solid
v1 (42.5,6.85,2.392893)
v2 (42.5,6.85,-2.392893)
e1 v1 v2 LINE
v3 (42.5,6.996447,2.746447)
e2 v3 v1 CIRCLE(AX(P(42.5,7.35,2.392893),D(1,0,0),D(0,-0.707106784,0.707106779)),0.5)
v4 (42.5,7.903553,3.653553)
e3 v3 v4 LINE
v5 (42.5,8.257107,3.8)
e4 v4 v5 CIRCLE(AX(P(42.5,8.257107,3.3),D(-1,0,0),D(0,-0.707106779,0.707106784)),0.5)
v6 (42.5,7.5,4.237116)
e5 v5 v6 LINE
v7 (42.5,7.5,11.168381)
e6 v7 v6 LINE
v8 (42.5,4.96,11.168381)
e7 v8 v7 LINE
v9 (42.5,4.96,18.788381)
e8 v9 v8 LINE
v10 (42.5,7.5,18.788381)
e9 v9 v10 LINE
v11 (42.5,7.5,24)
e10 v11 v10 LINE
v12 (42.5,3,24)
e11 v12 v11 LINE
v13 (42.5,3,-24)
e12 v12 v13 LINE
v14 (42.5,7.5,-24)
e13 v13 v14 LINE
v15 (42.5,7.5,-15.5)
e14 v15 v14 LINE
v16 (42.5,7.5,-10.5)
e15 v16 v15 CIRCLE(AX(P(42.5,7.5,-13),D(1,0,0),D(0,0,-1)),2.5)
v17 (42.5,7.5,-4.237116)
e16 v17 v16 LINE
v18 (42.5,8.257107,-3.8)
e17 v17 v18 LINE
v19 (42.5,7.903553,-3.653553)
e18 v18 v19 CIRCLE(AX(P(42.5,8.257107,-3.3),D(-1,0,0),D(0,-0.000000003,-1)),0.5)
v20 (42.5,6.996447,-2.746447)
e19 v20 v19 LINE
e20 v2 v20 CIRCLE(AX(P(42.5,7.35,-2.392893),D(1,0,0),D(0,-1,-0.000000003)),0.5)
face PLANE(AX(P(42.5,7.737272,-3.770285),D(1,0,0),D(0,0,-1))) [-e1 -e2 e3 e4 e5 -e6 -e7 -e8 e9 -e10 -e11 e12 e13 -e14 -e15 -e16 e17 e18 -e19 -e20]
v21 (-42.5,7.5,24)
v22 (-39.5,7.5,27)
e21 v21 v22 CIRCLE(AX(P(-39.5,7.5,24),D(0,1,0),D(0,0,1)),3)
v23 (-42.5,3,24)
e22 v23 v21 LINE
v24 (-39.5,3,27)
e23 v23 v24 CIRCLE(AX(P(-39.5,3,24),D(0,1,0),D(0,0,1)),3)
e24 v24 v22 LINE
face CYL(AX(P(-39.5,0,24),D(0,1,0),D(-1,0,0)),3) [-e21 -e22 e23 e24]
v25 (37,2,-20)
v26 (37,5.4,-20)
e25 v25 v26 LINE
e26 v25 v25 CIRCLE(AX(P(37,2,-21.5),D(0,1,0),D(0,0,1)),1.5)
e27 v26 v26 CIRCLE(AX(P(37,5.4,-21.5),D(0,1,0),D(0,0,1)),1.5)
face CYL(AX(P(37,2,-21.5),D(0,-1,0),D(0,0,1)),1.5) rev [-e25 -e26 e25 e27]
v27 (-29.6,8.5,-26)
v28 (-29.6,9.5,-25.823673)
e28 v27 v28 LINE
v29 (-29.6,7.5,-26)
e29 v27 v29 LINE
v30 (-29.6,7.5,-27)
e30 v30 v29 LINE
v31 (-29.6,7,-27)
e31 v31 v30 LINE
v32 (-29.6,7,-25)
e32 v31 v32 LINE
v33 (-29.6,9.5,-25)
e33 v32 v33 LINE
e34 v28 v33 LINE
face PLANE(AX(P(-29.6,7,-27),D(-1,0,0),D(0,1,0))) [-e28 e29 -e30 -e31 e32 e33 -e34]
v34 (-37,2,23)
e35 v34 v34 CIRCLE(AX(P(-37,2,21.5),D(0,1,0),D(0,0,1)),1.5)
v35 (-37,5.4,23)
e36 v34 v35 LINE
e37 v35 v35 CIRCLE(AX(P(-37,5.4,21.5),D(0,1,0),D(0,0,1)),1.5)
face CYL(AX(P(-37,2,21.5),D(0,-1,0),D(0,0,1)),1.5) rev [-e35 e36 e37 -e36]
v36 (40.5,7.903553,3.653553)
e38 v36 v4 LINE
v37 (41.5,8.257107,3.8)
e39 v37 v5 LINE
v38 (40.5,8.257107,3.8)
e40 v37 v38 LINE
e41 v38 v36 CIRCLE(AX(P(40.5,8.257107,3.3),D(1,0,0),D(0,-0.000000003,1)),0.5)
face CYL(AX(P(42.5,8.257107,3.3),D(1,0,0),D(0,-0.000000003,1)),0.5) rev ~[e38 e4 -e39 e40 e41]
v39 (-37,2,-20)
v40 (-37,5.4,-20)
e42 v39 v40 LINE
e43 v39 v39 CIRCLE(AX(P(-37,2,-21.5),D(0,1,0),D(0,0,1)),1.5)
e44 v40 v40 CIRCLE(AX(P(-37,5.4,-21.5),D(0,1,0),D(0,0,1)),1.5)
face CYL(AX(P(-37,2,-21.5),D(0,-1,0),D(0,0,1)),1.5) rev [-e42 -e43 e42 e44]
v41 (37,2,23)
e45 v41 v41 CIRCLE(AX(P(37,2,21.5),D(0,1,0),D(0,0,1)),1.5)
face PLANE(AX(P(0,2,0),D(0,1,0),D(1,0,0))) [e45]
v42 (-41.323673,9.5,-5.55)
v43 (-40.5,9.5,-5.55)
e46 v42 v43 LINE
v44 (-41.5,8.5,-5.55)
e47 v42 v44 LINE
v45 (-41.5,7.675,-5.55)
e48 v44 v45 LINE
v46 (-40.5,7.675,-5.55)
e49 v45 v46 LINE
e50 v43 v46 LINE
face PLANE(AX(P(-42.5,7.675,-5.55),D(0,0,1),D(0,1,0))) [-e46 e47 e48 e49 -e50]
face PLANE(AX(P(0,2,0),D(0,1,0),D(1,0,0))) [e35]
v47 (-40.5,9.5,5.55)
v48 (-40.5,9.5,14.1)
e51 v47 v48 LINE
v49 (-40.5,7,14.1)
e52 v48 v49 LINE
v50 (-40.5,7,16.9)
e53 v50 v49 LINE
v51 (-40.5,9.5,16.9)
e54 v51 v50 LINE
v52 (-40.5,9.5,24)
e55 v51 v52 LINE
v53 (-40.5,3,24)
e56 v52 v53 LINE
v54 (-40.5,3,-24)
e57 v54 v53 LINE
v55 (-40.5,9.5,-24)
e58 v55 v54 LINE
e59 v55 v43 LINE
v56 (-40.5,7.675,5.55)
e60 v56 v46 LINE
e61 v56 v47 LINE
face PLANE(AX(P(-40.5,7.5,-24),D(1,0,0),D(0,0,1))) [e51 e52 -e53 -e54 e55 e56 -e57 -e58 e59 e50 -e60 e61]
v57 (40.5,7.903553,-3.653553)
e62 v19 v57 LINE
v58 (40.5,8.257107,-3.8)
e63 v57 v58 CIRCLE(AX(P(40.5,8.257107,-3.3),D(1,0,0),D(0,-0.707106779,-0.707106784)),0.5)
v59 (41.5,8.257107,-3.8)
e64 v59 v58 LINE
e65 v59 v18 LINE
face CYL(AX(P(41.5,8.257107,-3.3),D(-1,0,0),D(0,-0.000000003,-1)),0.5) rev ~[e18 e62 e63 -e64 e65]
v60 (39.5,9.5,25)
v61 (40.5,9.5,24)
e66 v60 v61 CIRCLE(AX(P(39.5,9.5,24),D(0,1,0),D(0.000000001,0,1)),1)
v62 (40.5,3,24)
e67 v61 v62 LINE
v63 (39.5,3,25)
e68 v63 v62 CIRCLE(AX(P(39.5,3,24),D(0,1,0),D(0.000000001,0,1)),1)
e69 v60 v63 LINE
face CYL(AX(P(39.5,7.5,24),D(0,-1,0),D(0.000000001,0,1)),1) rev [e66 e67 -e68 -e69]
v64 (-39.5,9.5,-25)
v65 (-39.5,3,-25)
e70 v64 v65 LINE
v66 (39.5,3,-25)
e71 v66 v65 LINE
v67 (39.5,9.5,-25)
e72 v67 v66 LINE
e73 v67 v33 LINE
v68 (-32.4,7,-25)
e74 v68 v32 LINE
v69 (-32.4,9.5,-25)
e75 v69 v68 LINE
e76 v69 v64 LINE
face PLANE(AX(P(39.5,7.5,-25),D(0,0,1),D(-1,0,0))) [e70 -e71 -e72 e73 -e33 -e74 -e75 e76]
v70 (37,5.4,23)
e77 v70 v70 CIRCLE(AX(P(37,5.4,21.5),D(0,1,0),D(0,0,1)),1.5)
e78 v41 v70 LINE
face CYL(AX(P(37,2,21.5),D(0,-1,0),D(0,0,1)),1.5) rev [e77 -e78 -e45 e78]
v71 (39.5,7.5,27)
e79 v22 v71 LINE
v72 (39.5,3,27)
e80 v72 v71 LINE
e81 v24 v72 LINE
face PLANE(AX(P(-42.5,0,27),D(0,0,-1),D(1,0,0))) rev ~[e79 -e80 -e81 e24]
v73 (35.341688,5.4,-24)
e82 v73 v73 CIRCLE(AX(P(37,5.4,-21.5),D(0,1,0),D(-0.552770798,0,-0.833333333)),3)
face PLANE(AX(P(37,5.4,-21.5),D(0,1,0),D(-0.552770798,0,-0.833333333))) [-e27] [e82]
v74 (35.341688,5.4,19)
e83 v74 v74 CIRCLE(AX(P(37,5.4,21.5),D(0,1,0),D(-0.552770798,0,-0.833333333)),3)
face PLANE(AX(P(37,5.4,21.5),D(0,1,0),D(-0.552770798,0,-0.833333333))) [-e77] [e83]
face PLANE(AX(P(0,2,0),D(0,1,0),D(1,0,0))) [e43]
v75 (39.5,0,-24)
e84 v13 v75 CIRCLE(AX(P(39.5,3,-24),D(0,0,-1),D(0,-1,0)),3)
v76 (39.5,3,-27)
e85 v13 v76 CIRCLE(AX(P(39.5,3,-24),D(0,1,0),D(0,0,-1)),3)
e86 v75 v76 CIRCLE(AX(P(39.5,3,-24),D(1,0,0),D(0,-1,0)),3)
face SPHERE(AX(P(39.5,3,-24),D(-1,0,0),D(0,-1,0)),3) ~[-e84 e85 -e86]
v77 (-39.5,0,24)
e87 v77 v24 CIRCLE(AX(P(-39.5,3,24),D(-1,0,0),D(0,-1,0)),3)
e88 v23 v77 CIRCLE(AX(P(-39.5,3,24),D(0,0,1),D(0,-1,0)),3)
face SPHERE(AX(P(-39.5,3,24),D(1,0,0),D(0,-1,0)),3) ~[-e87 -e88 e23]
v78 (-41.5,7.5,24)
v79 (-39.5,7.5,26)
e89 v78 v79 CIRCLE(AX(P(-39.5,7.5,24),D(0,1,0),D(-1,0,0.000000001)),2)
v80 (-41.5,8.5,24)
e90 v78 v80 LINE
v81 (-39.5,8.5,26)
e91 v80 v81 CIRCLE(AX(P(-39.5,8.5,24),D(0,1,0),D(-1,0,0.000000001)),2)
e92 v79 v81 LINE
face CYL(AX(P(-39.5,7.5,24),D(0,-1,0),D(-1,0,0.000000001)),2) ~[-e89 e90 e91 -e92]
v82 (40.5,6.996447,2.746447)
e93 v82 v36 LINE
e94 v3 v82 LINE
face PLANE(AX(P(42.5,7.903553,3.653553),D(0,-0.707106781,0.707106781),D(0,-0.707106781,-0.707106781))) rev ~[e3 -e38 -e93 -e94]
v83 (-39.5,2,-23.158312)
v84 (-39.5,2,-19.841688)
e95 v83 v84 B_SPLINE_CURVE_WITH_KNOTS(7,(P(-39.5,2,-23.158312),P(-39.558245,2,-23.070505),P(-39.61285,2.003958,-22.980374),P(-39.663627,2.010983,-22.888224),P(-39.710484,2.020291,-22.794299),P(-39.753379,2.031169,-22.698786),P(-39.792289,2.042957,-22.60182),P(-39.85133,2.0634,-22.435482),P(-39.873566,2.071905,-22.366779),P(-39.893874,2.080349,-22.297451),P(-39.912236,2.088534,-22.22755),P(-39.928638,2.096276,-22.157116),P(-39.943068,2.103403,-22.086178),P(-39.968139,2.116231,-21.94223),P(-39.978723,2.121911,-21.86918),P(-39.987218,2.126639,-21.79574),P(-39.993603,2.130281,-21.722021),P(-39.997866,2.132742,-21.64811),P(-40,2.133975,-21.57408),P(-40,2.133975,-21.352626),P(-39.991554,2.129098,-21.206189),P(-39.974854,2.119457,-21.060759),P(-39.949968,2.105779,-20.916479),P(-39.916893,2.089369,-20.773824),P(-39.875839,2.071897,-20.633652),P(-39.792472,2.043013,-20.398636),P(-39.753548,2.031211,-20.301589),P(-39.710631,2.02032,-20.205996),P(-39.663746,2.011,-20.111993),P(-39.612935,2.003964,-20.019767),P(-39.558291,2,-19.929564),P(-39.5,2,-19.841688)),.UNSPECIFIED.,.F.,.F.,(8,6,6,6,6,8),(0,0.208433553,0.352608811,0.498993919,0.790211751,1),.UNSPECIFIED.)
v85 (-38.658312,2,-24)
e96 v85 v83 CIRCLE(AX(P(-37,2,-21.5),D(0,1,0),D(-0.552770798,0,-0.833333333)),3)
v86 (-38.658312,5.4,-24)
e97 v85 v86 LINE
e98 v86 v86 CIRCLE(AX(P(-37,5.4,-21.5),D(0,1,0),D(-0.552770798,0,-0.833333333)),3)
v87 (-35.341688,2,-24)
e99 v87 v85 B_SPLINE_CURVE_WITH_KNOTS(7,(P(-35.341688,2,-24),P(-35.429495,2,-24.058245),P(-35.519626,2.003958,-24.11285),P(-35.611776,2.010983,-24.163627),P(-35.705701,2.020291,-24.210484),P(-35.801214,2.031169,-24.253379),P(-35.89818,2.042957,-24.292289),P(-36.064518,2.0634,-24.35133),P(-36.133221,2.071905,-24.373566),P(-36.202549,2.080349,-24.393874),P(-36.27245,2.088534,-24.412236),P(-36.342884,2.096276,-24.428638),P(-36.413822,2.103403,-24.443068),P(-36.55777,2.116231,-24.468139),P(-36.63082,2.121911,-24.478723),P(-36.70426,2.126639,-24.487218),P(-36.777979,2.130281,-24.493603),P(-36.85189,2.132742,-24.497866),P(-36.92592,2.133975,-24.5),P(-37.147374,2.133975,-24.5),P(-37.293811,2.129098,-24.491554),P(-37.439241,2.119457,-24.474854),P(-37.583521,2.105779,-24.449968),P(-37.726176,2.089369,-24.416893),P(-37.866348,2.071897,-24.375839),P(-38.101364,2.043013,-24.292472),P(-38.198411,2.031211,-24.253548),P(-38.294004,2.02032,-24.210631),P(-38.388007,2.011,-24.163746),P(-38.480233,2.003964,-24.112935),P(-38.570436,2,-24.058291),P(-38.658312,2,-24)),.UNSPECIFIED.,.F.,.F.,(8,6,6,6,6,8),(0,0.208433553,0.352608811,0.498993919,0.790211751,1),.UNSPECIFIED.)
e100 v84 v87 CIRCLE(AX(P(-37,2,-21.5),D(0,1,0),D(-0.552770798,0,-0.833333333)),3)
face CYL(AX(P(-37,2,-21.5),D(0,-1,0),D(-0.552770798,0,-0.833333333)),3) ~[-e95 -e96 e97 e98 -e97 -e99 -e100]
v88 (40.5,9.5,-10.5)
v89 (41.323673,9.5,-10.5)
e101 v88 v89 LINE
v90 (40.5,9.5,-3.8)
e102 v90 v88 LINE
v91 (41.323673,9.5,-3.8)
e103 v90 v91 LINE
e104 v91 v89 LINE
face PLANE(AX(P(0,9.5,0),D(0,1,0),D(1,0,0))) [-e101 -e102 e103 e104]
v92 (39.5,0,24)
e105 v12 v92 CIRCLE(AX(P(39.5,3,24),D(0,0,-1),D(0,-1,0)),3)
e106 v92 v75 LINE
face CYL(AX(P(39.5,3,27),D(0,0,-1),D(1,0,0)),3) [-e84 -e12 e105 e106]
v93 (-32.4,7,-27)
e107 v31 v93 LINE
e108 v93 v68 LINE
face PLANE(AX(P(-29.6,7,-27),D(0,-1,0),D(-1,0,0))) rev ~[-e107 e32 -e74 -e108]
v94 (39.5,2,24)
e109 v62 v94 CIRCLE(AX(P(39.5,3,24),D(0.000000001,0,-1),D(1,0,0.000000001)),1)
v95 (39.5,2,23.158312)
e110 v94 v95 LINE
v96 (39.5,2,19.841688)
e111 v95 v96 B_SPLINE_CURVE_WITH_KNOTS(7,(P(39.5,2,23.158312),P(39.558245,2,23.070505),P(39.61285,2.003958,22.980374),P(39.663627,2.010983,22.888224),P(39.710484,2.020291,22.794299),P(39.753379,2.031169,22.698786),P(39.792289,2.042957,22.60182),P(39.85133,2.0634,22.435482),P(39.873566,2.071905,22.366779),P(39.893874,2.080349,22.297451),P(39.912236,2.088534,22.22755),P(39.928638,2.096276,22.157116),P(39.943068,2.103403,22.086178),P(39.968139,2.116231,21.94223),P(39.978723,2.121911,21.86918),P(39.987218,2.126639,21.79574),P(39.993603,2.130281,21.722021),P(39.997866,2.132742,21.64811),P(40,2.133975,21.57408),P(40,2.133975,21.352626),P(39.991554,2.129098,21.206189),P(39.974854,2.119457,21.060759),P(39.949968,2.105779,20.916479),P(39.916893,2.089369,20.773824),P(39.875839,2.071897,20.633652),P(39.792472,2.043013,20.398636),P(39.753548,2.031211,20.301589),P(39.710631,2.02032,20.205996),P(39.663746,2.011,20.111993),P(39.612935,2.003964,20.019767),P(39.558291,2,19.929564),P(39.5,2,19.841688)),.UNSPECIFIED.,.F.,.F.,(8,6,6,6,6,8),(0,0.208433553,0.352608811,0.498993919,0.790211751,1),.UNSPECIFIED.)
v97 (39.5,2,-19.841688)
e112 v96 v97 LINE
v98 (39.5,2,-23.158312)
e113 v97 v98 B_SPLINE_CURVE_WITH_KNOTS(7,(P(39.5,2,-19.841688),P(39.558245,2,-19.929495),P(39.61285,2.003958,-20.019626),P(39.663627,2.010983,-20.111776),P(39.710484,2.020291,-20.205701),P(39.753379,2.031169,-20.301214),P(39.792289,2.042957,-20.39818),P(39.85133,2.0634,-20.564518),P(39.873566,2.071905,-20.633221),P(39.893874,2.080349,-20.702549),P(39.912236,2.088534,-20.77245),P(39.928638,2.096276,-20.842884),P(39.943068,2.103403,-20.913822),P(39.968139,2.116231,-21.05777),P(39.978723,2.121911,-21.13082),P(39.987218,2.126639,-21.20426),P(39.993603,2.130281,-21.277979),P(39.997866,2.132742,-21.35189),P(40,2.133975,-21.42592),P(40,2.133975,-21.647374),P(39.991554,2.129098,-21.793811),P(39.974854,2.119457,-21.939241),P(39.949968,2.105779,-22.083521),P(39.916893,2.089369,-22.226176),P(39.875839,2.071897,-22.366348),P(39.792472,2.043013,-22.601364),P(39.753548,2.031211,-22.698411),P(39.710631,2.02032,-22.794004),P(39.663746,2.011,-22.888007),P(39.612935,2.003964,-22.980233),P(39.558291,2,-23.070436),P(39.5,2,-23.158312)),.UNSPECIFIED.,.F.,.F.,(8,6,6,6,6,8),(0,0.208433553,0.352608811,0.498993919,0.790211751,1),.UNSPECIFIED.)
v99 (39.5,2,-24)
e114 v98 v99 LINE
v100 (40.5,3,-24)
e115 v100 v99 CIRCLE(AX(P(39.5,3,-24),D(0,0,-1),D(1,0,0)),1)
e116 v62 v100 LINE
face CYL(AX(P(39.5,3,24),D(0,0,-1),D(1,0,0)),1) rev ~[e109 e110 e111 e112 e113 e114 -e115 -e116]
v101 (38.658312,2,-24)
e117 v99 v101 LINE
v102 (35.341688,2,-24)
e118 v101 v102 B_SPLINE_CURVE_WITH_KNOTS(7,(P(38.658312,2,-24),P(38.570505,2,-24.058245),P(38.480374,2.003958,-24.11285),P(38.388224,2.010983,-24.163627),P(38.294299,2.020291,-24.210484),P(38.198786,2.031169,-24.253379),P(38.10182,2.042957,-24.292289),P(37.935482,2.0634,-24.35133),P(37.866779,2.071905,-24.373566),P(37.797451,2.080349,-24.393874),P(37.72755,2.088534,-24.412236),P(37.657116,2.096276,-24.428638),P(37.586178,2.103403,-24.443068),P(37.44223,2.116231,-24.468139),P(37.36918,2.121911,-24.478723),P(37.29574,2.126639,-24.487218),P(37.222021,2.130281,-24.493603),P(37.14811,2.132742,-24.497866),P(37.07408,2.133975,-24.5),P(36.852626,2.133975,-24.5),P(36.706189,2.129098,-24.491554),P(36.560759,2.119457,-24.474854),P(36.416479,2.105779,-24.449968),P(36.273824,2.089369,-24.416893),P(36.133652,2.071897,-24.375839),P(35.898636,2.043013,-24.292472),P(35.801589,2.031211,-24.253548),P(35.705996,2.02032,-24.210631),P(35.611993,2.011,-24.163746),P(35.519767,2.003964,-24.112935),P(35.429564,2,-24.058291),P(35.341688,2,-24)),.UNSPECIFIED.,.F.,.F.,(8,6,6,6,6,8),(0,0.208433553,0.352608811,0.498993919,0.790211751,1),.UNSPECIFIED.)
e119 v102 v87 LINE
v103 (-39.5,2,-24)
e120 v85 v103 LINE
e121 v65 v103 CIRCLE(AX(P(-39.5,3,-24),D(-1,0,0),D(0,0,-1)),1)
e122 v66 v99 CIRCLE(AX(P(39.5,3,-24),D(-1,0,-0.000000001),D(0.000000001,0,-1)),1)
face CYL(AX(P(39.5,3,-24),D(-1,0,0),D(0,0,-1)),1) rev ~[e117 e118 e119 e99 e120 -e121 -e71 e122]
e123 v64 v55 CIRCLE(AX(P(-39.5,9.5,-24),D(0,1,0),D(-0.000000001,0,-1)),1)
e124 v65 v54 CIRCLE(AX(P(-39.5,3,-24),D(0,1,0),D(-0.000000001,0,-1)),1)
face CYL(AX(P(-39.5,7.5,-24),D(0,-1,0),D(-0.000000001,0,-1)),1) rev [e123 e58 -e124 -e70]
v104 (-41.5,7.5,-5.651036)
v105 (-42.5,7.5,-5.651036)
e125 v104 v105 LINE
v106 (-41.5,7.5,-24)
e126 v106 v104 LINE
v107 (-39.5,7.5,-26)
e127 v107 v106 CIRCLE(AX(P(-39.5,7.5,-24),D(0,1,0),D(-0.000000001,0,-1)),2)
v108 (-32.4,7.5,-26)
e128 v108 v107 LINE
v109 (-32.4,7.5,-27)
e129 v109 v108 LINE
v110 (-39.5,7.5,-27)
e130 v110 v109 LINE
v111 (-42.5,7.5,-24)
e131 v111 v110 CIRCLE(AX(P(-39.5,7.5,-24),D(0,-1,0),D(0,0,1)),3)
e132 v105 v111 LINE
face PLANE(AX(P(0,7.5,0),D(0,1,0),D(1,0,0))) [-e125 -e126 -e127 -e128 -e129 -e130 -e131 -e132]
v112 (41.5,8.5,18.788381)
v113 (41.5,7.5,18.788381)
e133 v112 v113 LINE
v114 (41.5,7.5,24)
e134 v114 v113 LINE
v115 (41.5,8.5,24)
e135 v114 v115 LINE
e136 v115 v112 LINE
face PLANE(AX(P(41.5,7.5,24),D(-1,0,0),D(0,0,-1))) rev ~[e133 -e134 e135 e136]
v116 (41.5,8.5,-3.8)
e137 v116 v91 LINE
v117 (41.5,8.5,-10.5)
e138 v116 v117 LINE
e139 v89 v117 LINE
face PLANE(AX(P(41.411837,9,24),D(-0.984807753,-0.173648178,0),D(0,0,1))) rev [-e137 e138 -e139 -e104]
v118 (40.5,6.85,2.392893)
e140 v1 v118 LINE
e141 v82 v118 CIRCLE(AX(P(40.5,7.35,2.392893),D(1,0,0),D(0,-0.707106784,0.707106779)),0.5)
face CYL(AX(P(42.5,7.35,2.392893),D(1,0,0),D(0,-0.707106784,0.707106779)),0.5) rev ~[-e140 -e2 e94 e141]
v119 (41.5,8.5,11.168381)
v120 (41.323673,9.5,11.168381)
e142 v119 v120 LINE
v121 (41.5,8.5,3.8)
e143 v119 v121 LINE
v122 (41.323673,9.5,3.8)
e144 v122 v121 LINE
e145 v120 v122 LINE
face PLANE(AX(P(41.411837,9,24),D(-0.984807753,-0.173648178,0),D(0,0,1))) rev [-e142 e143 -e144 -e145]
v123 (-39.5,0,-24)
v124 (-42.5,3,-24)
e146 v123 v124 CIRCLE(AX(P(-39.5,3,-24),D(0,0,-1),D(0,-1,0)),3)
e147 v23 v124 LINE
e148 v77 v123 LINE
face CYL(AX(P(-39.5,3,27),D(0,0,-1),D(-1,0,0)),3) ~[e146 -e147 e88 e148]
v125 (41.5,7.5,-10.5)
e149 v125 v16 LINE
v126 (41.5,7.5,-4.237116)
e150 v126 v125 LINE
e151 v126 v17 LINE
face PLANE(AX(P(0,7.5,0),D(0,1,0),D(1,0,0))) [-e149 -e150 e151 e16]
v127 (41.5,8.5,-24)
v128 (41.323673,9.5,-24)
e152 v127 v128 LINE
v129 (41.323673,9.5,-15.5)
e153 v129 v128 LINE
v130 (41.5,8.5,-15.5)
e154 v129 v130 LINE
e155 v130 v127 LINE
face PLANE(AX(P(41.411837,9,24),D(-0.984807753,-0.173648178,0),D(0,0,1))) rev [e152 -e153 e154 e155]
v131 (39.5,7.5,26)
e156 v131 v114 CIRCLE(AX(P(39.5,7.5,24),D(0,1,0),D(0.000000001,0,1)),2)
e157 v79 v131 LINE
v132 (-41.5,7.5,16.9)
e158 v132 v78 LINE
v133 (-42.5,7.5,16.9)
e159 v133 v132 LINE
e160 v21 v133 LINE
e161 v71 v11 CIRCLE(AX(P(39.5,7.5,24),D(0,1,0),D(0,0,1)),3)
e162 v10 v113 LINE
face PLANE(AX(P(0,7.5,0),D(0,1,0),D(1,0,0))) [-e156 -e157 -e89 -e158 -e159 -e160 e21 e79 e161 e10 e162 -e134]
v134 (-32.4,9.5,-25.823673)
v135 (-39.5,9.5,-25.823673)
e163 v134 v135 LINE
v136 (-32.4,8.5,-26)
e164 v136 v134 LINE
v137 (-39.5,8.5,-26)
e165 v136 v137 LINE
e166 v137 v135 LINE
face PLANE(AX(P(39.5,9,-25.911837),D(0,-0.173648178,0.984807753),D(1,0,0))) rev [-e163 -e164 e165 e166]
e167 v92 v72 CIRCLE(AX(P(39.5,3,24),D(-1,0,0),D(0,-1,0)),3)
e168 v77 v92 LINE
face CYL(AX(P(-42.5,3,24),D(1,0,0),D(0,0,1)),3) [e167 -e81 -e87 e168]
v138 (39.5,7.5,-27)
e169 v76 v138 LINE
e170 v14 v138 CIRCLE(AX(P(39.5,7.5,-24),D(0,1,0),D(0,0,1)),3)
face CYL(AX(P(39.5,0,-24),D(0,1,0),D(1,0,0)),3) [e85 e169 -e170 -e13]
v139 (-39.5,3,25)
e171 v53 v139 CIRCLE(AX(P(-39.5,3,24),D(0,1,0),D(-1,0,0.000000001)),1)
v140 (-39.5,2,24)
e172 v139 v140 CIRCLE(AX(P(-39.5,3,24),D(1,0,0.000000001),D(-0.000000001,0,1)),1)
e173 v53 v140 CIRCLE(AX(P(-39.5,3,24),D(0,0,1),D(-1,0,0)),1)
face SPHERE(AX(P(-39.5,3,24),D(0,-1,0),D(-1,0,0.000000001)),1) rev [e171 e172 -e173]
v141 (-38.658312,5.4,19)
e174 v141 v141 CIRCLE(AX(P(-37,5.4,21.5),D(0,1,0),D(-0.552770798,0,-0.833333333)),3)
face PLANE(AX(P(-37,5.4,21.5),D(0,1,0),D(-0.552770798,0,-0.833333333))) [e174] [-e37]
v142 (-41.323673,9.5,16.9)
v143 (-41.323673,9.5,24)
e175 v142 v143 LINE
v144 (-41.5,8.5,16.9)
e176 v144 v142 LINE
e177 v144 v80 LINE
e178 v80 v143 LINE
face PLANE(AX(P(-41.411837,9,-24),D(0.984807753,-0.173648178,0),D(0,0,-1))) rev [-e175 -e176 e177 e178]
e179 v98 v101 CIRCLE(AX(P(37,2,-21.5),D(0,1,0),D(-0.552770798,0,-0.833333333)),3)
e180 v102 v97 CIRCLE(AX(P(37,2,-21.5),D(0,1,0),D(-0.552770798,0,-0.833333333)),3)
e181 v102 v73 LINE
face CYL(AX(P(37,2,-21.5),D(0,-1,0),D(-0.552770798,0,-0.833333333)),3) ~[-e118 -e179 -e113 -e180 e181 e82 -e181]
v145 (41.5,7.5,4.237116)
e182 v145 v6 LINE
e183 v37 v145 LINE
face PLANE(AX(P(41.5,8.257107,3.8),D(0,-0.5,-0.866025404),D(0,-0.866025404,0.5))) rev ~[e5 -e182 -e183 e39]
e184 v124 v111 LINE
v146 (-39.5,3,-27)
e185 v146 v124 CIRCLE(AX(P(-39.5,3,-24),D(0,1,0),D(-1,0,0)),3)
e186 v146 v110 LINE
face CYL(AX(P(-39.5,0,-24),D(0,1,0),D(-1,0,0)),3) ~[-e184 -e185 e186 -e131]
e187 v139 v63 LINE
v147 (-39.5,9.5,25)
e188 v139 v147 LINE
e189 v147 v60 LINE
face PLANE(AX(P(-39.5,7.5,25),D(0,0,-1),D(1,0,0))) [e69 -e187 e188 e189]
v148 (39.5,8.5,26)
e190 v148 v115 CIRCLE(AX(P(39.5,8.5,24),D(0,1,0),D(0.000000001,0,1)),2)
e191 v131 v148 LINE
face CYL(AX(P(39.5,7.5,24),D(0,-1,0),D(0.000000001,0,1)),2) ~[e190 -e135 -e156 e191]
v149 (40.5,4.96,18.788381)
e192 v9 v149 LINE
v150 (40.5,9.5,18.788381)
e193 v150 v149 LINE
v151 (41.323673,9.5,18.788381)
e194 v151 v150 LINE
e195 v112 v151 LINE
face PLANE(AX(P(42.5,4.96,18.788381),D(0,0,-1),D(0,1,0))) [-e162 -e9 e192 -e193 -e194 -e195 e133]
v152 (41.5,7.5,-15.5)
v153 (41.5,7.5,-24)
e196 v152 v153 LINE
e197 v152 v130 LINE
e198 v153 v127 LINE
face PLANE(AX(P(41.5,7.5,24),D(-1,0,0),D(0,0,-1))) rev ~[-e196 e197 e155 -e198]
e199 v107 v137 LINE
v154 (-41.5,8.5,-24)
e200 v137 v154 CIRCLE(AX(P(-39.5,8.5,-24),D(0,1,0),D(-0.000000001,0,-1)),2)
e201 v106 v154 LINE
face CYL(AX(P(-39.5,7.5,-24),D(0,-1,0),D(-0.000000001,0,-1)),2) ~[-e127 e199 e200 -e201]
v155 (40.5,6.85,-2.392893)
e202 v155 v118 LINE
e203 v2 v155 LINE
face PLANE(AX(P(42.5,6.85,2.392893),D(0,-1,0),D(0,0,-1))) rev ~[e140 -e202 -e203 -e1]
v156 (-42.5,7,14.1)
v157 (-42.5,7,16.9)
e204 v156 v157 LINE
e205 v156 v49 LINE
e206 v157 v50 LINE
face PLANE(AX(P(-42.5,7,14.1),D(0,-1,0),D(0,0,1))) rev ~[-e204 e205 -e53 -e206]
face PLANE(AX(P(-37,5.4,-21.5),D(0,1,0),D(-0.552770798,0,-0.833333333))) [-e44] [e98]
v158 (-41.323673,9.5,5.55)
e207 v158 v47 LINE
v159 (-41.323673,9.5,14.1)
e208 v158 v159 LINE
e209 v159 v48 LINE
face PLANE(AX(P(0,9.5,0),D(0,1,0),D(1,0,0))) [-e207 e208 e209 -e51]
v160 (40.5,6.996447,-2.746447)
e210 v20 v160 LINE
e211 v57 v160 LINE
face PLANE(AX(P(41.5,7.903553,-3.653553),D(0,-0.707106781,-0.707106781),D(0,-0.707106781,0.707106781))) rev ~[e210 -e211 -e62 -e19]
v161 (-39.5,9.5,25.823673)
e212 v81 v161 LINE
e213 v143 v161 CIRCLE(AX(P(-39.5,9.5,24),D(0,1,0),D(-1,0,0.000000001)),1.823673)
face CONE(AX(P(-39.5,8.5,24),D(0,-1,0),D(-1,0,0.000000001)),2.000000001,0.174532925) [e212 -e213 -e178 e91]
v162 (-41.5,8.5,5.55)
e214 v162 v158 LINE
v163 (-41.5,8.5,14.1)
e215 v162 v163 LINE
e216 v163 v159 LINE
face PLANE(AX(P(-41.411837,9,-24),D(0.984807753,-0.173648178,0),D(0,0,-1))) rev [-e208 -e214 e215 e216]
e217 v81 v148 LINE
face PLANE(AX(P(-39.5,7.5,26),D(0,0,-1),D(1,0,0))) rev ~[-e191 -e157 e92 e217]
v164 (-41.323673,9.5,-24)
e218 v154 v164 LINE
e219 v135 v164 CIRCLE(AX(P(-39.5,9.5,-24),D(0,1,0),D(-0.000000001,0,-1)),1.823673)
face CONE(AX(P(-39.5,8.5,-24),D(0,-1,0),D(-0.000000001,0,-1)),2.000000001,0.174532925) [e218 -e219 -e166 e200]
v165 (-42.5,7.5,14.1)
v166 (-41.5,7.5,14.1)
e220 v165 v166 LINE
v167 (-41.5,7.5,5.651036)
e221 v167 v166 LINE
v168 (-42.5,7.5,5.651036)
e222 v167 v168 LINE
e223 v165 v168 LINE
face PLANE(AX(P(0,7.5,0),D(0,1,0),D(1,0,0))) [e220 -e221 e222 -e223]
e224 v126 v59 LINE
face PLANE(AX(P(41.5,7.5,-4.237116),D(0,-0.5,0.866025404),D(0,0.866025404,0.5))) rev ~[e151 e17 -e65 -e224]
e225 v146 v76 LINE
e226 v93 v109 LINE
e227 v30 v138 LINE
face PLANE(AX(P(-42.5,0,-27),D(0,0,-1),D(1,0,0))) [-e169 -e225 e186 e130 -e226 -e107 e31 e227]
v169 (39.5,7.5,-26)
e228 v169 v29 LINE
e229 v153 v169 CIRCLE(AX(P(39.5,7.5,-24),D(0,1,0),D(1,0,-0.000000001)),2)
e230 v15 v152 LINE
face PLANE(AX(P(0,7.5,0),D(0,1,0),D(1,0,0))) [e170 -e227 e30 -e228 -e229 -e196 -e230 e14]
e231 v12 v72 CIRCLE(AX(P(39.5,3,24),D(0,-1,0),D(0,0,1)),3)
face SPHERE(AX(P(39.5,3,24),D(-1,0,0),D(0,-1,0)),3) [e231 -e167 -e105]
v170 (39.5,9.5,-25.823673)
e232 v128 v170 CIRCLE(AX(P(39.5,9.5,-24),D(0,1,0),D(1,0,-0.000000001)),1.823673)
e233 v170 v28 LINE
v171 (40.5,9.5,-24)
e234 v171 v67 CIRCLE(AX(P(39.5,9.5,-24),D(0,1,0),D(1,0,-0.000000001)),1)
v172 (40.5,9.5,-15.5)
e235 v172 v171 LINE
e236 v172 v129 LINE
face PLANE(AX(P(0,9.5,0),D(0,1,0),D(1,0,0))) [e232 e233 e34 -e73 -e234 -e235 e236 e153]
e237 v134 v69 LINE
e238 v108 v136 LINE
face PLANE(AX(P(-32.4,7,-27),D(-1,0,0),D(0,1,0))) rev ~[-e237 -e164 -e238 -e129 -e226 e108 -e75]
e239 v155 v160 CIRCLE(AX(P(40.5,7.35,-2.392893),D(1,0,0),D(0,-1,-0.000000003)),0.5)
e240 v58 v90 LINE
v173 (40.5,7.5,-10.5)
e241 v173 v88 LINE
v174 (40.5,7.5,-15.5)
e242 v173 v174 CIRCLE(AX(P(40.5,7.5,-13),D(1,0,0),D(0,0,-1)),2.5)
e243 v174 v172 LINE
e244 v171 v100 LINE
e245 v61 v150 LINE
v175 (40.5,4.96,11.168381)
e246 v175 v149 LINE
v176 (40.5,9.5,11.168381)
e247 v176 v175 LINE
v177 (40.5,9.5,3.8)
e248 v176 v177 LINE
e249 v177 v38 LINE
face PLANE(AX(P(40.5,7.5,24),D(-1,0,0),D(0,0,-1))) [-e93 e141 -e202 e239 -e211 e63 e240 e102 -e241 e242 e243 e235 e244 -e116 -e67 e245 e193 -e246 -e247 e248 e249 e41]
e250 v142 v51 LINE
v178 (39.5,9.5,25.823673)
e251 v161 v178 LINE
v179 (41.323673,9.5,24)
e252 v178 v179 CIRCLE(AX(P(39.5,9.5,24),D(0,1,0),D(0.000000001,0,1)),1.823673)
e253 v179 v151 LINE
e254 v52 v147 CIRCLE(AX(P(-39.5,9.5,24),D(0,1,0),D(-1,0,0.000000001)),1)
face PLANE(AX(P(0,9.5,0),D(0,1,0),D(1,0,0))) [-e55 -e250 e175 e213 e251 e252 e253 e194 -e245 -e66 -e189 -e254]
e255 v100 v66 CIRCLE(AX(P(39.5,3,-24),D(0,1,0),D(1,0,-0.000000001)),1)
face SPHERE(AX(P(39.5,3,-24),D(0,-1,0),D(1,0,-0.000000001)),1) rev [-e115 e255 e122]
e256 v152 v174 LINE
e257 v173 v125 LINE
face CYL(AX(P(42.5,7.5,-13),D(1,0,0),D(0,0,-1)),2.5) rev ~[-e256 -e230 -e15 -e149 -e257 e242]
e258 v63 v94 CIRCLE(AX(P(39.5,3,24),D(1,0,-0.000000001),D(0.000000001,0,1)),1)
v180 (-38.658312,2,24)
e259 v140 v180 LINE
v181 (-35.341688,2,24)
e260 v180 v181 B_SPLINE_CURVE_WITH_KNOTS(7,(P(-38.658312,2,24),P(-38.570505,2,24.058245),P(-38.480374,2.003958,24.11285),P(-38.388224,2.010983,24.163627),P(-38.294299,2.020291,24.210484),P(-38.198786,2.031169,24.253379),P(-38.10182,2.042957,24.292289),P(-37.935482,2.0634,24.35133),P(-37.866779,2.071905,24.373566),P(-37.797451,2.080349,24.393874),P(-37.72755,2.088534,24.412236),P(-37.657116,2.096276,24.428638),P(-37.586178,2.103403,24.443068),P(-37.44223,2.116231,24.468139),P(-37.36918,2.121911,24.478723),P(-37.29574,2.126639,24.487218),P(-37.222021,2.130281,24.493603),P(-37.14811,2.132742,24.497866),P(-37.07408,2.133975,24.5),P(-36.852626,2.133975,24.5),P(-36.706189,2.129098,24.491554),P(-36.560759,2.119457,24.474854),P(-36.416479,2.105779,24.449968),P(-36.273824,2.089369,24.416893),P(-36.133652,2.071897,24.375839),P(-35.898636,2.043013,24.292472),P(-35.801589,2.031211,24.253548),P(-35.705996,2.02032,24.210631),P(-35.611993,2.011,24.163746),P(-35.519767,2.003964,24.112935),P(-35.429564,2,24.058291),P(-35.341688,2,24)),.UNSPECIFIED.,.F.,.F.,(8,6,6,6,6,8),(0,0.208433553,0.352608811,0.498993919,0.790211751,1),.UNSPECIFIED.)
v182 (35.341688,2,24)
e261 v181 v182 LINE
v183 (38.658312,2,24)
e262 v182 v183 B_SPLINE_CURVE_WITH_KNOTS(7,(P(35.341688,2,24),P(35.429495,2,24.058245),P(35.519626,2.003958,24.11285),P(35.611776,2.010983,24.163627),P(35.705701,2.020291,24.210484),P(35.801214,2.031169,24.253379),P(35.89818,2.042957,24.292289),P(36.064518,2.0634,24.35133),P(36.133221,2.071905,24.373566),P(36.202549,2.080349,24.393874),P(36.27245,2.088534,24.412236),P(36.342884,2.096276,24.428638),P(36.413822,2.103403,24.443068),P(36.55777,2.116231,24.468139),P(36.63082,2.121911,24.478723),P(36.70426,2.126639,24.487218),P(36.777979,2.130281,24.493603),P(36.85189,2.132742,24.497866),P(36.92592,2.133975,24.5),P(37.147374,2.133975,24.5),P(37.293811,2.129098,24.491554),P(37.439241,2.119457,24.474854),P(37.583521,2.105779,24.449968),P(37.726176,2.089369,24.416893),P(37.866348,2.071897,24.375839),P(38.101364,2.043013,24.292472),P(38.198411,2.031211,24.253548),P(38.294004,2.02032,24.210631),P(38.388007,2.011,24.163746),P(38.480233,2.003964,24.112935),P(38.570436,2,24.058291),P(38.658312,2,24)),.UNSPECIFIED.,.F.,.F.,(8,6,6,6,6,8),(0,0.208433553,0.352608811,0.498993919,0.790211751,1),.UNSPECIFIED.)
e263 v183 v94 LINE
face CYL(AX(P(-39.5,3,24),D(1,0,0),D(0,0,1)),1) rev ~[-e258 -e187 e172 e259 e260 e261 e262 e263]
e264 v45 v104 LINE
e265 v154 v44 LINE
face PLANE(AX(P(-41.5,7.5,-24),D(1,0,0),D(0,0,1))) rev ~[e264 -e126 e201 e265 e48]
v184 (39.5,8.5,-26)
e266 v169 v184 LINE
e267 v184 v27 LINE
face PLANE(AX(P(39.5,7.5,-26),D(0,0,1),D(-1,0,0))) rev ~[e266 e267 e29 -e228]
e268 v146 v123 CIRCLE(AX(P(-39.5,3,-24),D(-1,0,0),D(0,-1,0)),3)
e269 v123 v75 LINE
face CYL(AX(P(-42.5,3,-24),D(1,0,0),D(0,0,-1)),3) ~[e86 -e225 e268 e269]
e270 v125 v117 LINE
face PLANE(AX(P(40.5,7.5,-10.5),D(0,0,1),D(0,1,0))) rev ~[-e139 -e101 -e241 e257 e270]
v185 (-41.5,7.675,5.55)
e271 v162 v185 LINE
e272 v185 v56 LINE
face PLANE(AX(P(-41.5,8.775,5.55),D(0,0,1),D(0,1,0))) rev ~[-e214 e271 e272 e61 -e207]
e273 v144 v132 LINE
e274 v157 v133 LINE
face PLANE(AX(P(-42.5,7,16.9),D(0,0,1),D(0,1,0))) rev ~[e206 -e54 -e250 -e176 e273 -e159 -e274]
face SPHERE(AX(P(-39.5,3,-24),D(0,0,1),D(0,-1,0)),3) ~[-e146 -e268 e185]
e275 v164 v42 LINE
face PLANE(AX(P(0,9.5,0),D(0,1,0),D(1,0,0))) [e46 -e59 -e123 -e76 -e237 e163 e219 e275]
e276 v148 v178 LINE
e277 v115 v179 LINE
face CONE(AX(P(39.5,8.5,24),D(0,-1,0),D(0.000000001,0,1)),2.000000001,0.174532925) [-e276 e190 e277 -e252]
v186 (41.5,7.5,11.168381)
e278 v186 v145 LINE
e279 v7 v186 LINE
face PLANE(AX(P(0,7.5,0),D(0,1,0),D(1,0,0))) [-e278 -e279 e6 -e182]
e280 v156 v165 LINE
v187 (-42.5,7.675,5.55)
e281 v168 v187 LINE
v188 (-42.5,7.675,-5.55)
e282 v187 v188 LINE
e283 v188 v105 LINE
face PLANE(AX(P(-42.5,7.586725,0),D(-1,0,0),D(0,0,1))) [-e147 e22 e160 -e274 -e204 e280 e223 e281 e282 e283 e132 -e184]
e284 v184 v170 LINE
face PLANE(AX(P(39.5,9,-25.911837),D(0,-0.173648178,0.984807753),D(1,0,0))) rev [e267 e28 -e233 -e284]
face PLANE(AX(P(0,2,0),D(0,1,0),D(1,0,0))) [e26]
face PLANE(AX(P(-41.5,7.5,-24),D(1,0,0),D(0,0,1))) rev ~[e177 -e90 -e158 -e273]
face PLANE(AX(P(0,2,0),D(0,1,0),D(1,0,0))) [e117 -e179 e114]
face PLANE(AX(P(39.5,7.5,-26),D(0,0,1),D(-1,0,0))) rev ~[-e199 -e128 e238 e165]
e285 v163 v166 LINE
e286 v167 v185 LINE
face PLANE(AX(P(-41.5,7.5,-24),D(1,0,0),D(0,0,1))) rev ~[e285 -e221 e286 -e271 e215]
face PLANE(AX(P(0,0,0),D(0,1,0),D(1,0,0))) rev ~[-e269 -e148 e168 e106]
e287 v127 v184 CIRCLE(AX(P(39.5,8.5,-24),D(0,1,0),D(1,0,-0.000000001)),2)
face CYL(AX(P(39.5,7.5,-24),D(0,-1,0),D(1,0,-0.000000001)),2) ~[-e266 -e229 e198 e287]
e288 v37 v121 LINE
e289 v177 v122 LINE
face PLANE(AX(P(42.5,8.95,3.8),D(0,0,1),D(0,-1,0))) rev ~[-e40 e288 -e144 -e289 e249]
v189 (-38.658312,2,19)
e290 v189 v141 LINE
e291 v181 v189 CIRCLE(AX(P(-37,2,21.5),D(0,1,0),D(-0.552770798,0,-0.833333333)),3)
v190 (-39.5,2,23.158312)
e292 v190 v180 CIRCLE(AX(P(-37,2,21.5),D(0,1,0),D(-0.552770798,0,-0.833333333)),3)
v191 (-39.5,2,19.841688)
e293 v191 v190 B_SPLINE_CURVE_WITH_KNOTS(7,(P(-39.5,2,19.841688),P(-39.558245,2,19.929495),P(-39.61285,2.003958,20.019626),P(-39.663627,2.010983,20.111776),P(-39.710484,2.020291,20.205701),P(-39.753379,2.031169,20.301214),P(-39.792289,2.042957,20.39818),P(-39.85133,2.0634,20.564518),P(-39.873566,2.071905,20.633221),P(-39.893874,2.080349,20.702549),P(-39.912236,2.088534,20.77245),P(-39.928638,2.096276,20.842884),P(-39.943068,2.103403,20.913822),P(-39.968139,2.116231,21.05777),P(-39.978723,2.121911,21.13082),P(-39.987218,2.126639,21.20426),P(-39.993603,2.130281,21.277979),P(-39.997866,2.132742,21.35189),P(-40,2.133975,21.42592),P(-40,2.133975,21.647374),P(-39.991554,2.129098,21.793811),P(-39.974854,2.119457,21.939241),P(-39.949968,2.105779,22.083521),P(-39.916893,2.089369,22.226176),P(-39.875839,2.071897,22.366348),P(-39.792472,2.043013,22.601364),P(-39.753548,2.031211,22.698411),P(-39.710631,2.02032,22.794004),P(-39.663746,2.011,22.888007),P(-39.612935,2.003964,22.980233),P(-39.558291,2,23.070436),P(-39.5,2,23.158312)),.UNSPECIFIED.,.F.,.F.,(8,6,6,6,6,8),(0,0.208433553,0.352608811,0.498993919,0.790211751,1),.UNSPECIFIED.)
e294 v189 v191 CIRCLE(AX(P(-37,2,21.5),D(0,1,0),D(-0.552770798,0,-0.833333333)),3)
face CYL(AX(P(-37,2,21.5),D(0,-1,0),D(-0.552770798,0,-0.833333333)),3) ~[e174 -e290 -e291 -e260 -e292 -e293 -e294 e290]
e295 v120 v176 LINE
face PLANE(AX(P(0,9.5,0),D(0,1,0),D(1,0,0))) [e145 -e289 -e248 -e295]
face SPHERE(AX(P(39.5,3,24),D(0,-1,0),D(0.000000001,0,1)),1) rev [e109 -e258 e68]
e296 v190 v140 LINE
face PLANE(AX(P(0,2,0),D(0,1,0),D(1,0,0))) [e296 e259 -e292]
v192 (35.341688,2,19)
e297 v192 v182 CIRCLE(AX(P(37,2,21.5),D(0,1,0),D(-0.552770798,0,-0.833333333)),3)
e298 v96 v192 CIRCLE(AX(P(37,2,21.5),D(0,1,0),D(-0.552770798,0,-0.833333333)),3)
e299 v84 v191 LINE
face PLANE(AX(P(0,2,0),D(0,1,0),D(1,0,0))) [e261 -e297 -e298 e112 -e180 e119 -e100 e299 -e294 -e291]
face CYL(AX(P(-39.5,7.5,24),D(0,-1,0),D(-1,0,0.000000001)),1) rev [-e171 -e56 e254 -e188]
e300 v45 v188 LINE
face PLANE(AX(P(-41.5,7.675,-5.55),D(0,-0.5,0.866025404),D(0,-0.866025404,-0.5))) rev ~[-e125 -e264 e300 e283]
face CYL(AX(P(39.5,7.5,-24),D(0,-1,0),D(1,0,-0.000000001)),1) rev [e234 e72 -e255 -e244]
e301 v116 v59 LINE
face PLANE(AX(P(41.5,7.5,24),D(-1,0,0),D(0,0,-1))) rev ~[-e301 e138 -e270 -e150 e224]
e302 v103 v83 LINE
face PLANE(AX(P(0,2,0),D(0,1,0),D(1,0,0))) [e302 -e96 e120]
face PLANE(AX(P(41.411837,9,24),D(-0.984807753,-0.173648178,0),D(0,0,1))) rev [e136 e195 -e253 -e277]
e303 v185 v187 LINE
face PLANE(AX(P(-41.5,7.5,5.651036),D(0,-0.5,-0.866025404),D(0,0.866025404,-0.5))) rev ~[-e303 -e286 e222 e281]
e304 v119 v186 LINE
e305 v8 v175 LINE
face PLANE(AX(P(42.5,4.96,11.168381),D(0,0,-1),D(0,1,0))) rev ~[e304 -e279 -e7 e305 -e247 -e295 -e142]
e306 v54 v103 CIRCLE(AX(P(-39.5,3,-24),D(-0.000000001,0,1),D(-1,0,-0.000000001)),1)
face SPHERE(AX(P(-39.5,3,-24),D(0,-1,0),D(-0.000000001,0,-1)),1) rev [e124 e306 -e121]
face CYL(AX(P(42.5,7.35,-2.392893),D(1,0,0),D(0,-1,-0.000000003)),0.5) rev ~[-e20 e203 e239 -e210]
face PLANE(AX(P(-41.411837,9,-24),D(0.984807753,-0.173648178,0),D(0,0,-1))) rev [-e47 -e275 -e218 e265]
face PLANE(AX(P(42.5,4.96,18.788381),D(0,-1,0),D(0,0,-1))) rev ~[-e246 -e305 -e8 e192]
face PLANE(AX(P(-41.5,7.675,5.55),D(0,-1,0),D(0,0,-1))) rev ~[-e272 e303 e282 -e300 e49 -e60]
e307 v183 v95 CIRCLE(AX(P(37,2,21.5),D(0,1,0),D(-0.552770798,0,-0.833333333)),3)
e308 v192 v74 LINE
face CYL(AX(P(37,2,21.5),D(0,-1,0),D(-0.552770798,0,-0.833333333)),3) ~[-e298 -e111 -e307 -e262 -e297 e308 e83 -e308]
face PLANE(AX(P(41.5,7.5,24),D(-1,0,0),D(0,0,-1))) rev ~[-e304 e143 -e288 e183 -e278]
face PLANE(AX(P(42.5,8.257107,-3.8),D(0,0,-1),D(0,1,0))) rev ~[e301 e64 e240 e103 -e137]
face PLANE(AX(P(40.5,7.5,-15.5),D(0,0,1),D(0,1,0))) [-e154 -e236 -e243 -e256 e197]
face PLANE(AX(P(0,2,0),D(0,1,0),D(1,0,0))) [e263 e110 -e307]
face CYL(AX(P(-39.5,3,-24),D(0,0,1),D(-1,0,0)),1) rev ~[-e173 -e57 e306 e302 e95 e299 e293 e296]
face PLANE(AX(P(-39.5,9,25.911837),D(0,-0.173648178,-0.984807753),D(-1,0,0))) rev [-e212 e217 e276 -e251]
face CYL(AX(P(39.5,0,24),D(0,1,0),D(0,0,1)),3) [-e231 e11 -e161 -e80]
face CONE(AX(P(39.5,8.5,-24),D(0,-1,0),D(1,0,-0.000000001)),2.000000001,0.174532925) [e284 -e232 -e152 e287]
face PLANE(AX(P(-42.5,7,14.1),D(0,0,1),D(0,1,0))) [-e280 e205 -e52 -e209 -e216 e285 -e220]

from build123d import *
from OCP.BRepFilletAPI import BRepFilletAPI_MakeChamfer

# Parameters (mm, degrees)
SKETCH_1_W                  = 85
SKETCH_1_H                  = 54
EXTRUDE_576_DEPTH           = 7.5
FILLET_627_R                = 3
CUT_EXTRUDE_1389_DEPTH      = 5.5
FILLET_1467_R               = 1
EXTRUDE_2395_DEPTH          = 2
CHAMFER_2448_SIZE           = 1
CHAMFER_2448_SIZE2          = 0.176326981
SKETCH_16_R                 = 2.5
CUT_EXTRUDE_2683_DEPTH      = 5
SKETCH_19_W                 = 7.62
SKETCH_19_H                 = 5.08
CUT_EXTRUDE_3124_DEPTH      = 10
SKETCH_21_W                 = 11.1
SKETCH_21_H                 = 1.1
CUT_EXTRUDE_2_DEPTH         = 10
SKETCH_22_W                 = 2.8
SKETCH_22_H                 = 1.2
CUT_EXTRUDE_3_DEPTH         = 10
CUT_EXTRUDE_5_DEPTH         = 10
SKETCH_30_W                 = 11.1
SKETCH_30_H                 = 0.725
SKETCH_30_W_2               = 2.8
SKETCH_30_H_2               = 1.3
CUT_EXTRUDE_6_DEPTH         = 1
EXTRUDE_2_DEPTH             = 1
EXTRUDE_3_DEPTH             = 1
CUT_EXTRUDE_START           = -1
SKETCH_31_W                 = 7.6
SKETCH_31_H                 = 0.55
SKETCH_31_W_2               = 5
SKETCH_31_H_2               = 2
CUT_EXTRUDE_7_DEPTH         = 1
SKETCH_32_W                 = 2.8
SKETCH_32_H                 = 1.2
CUT_EXTRUDE_8_DEPTH         = 10
SKETCH_33_W                 = 2.8
SKETCH_33_H                 = 1.3
CUT_EXTRUDE_9_DEPTH         = 2
SKETCH_34_R                 = 3
SKETCH_34_R_2               = 1.5
EXTRUDE_4_DEPTH             = 3.4
PATTERN_LINEAR_1_COUNT      = 2
PATTERN_LINEAR_1_PITCH      = 74
PATTERN_LINEAR_1_COUNT_DIR2 = 2
PATTERN_LINEAR_1_PITCH_DIR2 = 43


with BuildPart() as part:
    # 草图1 → Extrude 576 (new body)
    with BuildSketch(Plane(origin=(0, 0, 0), x_dir=(1, 0, 0), z_dir=(0, 1, 0))):
        Rectangle(SKETCH_1_W, SKETCH_1_H)
    extrude(amount=EXTRUDE_576_DEPTH)

    # Fillet 627
    fillet_627_edges = [part.edges().sort_by_distance(p)[0] for p in [
        (0, 0, 27),
        (-42.5, 0, 0),
        (0, 0, -27),
        (42.5, 0, 0),
        (42.5, 3.75, 27),
        (-42.5, 3.75, 27),
        (-42.5, 3.75, -27),
        (42.5, 3.75, -27),
    ]]
    fillet(fillet_627_edges, radius=FILLET_627_R)

    # 草图14 → Cut-Extrude 1389 (cut)
    with BuildSketch(Plane(origin=(0, 7.5, 0), x_dir=(1, 0, 0), z_dir=(0, 1, 0))):
        with BuildLine():
            Line((-39.5, -25), (39.5, -25))
            ThreePointArc((39.5, -25), (40.207106781, -24.707106781), (40.5, -24))
            Line((40.5, -24), (40.5, 24))
            ThreePointArc((40.5, 24), (40.207106781, 24.707106781), (39.5, 25))
            Line((39.5, 25), (-39.5, 25))
            ThreePointArc((-39.5, 25), (-40.207106781, 24.707106781), (-40.5, 24))
            Line((-40.5, 24), (-40.5, -24))
            ThreePointArc((-40.5, -24), (-40.207106781, -24.707106781), (-39.5, -25))
        make_face()
    extrude(amount=-CUT_EXTRUDE_1389_DEPTH, mode=Mode.SUBTRACT)

    # Fillet 1467
    fillet_1467_edges = [part.edges().sort_by_distance(p)[0] for p in [
        (40.207106781, 2, 24.707106781),
        (0, 2, 25),
        (-40.207106781, 2, 24.707106781),
        (-40.5, 2, 0),
        (-40.207106781, 2, -24.707106781),
        (0, 2, -25),
        (40.207106781, 2, -24.707106781),
        (40.5, 2, 0),
    ]]
    fillet(fillet_1467_edges, radius=FILLET_1467_R)

    # 草图15 → Extrude 2395 (add)
    with BuildSketch(Plane(origin=(0, 7.5, 0), x_dir=(1, 0, 0), z_dir=(0, 1, 0))):
        with BuildLine():
            Line((-39.5, -26), (39.5, -26))
            ThreePointArc((39.5, -26), (40.914213562, -25.414213562), (41.5, -24))
            Line((41.5, -24), (41.5, 24))
            ThreePointArc((41.5, 24), (40.914213562, 25.414213562), (39.5, 26))
            Line((39.5, 26), (-39.5, 26))
            ThreePointArc((-39.5, 26), (-40.914213562, 25.414213562), (-41.5, 24))
            Line((-41.5, 24), (-41.5, -24))
            ThreePointArc((-41.5, -24), (-40.914213562, -25.414213562), (-39.5, -26))
        make_face()
        with BuildLine():
            Line((-39.5, -25), (39.5, -25))
            ThreePointArc((39.5, -25), (40.207106781, -24.707106781), (40.5, -24))
            Line((40.5, -24), (40.5, 24))
            ThreePointArc((40.5, 24), (40.207106781, 24.707106781), (39.5, 25))
            Line((39.5, 25), (-39.5, 25))
            ThreePointArc((-39.5, 25), (-40.207106781, 24.707106781), (-40.5, 24))
            Line((-40.5, 24), (-40.5, -24))
            ThreePointArc((-40.5, -24), (-40.207106781, -24.707106781), (-39.5, -25))
        make_face(mode=Mode.SUBTRACT)
    extrude(amount=EXTRUDE_2395_DEPTH)

    # Chamfer 2448: one chamfer whose edges measure the first distance from different faces: ONE call of the kernel's chamfer builder (chamfer() names one face for all edges)
    chamfer_2448_edges_1 = [part.edges().sort_by_distance(p)[0] for p in [
        (-40.914213562, 9.5, 25.414213562),
    ]]
    chamfer_2448_side_1 = [part.faces().sort_by_distance(p)[0] for p in [
        (-40.914213562, 8.5, 25.414213562),
    ]]
    chamfer_2448_edges_2 = [part.edges().sort_by_distance(p)[0] for p in [
        (0, 9.5, 26),
    ]]
    chamfer_2448_side_2 = [part.faces().sort_by_distance(p)[0] for p in [
        (0, 8.5, 26),
    ]]
    chamfer_2448_edges_3 = [part.edges().sort_by_distance(p)[0] for p in [
        (40.914213562, 9.5, 25.414213562),
    ]]
    chamfer_2448_side_3 = [part.faces().sort_by_distance(p)[0] for p in [
        (40.914213562, 8.5, 25.414213562),
    ]]
    chamfer_2448_edges_4 = [part.edges().sort_by_distance(p)[0] for p in [
        (41.5, 9.5, 0),
    ]]
    chamfer_2448_side_4 = [part.faces().sort_by_distance(p)[0] for p in [
        (41.5, 8.5, 0),
    ]]
    chamfer_2448_edges_5 = [part.edges().sort_by_distance(p)[0] for p in [
        (40.914213562, 9.5, -25.414213562),
    ]]
    chamfer_2448_side_5 = [part.faces().sort_by_distance(p)[0] for p in [
        (40.914213562, 8.5, -25.414213562),
    ]]
    chamfer_2448_edges_6 = [part.edges().sort_by_distance(p)[0] for p in [
        (0, 9.5, -26),
    ]]
    chamfer_2448_side_6 = [part.faces().sort_by_distance(p)[0] for p in [
        (0, 8.5, -26),
    ]]
    chamfer_2448_edges_7 = [part.edges().sort_by_distance(p)[0] for p in [
        (-40.914213562, 9.5, -25.414213562),
    ]]
    chamfer_2448_side_7 = [part.faces().sort_by_distance(p)[0] for p in [
        (-40.914213562, 8.5, -25.414213562),
    ]]
    chamfer_2448_edges_8 = [part.edges().sort_by_distance(p)[0] for p in [
        (-41.5, 9.5, 0),
    ]]
    chamfer_2448_side_8 = [part.faces().sort_by_distance(p)[0] for p in [
        (-41.5, 8.5, 0),
    ]]
    chamfer_2448 = BRepFilletAPI_MakeChamfer(part.part.solid().wrapped)
    for e in chamfer_2448_edges_1:
        chamfer_2448.Add(CHAMFER_2448_SIZE, CHAMFER_2448_SIZE2, e.wrapped, chamfer_2448_side_1[0].wrapped)  # the first distance lies on this face
    for e in chamfer_2448_edges_2:
        chamfer_2448.Add(CHAMFER_2448_SIZE, CHAMFER_2448_SIZE2, e.wrapped, chamfer_2448_side_2[0].wrapped)  # the first distance lies on this face
    for e in chamfer_2448_edges_3:
        chamfer_2448.Add(CHAMFER_2448_SIZE, CHAMFER_2448_SIZE2, e.wrapped, chamfer_2448_side_3[0].wrapped)  # the first distance lies on this face
    for e in chamfer_2448_edges_4:
        chamfer_2448.Add(CHAMFER_2448_SIZE, CHAMFER_2448_SIZE2, e.wrapped, chamfer_2448_side_4[0].wrapped)  # the first distance lies on this face
    for e in chamfer_2448_edges_5:
        chamfer_2448.Add(CHAMFER_2448_SIZE, CHAMFER_2448_SIZE2, e.wrapped, chamfer_2448_side_5[0].wrapped)  # the first distance lies on this face
    for e in chamfer_2448_edges_6:
        chamfer_2448.Add(CHAMFER_2448_SIZE, CHAMFER_2448_SIZE2, e.wrapped, chamfer_2448_side_6[0].wrapped)  # the first distance lies on this face
    for e in chamfer_2448_edges_7:
        chamfer_2448.Add(CHAMFER_2448_SIZE, CHAMFER_2448_SIZE2, e.wrapped, chamfer_2448_side_7[0].wrapped)  # the first distance lies on this face
    for e in chamfer_2448_edges_8:
        chamfer_2448.Add(CHAMFER_2448_SIZE, CHAMFER_2448_SIZE2, e.wrapped, chamfer_2448_side_8[0].wrapped)  # the first distance lies on this face
    add(Compound.cast(chamfer_2448.Shape()), mode=Mode.REPLACE)

    # 草图16 → Cut-Extrude 2683 (cut)
    with BuildSketch(Plane(origin=(42.5, 0, 0), x_dir=(0, 0, -1), z_dir=(1, 0, 0))):
        with Locations((13, 7.5)):
            Circle(SKETCH_16_R)
    extrude(amount=-CUT_EXTRUDE_2683_DEPTH, mode=Mode.SUBTRACT)

    # 草图19 → Cut-Extrude 3124 (cut)
    with BuildSketch(Plane(origin=(42.5, 0, 0), x_dir=(0, 0, -1), z_dir=(1, 0, 0))):
        with Locations((-14.978380782, 7.5)):
            Rectangle(SKETCH_19_W, SKETCH_19_H)
    extrude(amount=-CUT_EXTRUDE_3124_DEPTH, mode=Mode.SUBTRACT)

    # 草图21 → 切除-拉伸2 (cut)
    with BuildSketch(Plane.ZY.offset(42.5)):
        with Locations((0, 8.225)):
            Rectangle(SKETCH_21_W, SKETCH_21_H)
    extrude(amount=-CUT_EXTRUDE_2_DEPTH, mode=Mode.SUBTRACT)

    # 草图22 → 切除-拉伸3 (cut)
    with BuildSketch(Plane.ZY.offset(42.5)):
        with Locations((15.5, 7.6)):
            Rectangle(SKETCH_22_W, SKETCH_22_H)
    extrude(amount=-CUT_EXTRUDE_3_DEPTH, mode=Mode.SUBTRACT)

    # 草图25 → 切除-拉伸5 (cut)
    with BuildSketch(Plane(origin=(42.5, 0, 0), x_dir=(0, 0, -1), z_dir=(1, 0, 0))):
        with BuildLine():
            Line((3.8, 8.257106781), (3.8, 8.95))
            ThreePointArc((3.8, 8.95), (3.653553391, 9.303553391), (3.3, 9.45))
            Line((3.3, 9.45), (-3.3, 9.45))
            ThreePointArc((-3.3, 9.45), (-3.653553391, 9.303553391), (-3.8, 8.95))
            Line((-3.8, 8.95), (-3.8, 8.257106781))
            ThreePointArc((-3.8, 8.257106781), (-3.761939766, 8.065765065), (-3.653553391, 7.903553391))
            Line((-3.653553391, 7.903553391), (-2.746446609, 6.996446609))
            ThreePointArc((-2.746446609, 6.996446609), (-2.584234935, 6.888060234), (-2.392893219, 6.85))
            Line((-2.392893219, 6.85), (2.392893219, 6.85))
            ThreePointArc((2.392893219, 6.85), (2.584234935, 6.888060234), (2.746446609, 6.996446609))
            Line((2.746446609, 6.996446609), (3.653553391, 7.903553391))
            ThreePointArc((3.653553391, 7.903553391), (3.761939766, 8.065765065), (3.8, 8.257106781))
        make_face()
    extrude(amount=-CUT_EXTRUDE_5_DEPTH, mode=Mode.SUBTRACT)

    # 草图30 → 切除-拉伸6 (cut)
    with BuildSketch(Plane.ZY.offset(41.5)):
        with Locations((0, 9.1375)):
            Rectangle(SKETCH_30_W, SKETCH_30_H)
        with Locations((15.5, 8.85)):
            Rectangle(SKETCH_30_W_2, SKETCH_30_H_2)
    extrude(amount=-CUT_EXTRUDE_6_DEPTH, mode=Mode.SUBTRACT)

    # 草图28 → 凸台-拉伸2 (add)
    with BuildSketch(Plane(origin=(41.5, 0, 0), x_dir=(0, 0, -1), z_dir=(1, 0, 0))):
        with BuildLine():
            Line((3.653553391, 7.903553391), (3.25, 7.5))
            Line((3.25, 7.5), (4.237115804, 7.5))
            Line((4.237115804, 7.5), (3.8, 8.257106781))
            ThreePointArc((3.8, 8.257106781), (3.761939766, 8.065765065), (3.653553391, 7.903553391))
        make_face()
        with BuildLine():
            Line((-3.25, 7.5), (-3.653553391, 7.903553391))
            ThreePointArc((-3.653553391, 7.903553391), (-3.761939766, 8.065765065), (-3.8, 8.257106781))
            Line((-3.8, 8.257106781), (-4.237115804, 7.5))
            Line((-4.237115804, 7.5), (-3.25, 7.5))
        make_face()
    extrude(amount=EXTRUDE_2_DEPTH)

    # 草图29 → 凸台-拉伸3 (add)
    with BuildSketch(Plane.ZY.offset(41.5)):
        Polygon((-5.55, 7.675), (-5.651036297, 7.5), (5.651036297, 7.5), (5.55, 7.675), align=None)
    extrude(amount=EXTRUDE_3_DEPTH)

    # 草图31 → 切除-拉伸7 (cut)
    with BuildSketch(Plane(origin=(41.5, 0, 0), x_dir=(0, 0, -1), z_dir=(1, 0, 0)).offset(CUT_EXTRUDE_START)):
        with Locations((0, 9.225)):
            Rectangle(SKETCH_31_W, SKETCH_31_H)
        with Locations((13, 8.5)):
            Rectangle(SKETCH_31_W_2, SKETCH_31_H_2)
    extrude(amount=CUT_EXTRUDE_7_DEPTH, mode=Mode.SUBTRACT)

    # 草图32 → 切除-拉伸8 (cut)
    with BuildSketch(Plane(origin=(0, 0, -27), x_dir=(-1, 0, 0), z_dir=(0, 0, -1))):
        with Locations((31, 7.6)):
            Rectangle(SKETCH_32_W, SKETCH_32_H)
    extrude(amount=-CUT_EXTRUDE_8_DEPTH, mode=Mode.SUBTRACT)

    # 草图33 → 切除-拉伸9 (cut)
    with BuildSketch(Plane(origin=(0, 0, -27), x_dir=(-1, 0, 0), z_dir=(0, 0, -1))):
        with Locations((31, 8.85)):
            Rectangle(SKETCH_33_W, SKETCH_33_H)
    extrude(amount=-CUT_EXTRUDE_9_DEPTH, mode=Mode.SUBTRACT)

    # 草图34 → 凸台-拉伸4 (add)
    with BuildSketch(Plane(origin=(0, 2, 0), x_dir=(1, 0, 0), z_dir=(0, 1, 0))):
        with Locations(Location((-37, 21.5, 0), (0, 0, 123.557309761))):
            Circle(SKETCH_34_R)
        with Locations(Location((-37, 21.5, 0), (0, 0, 270))):
            Circle(SKETCH_34_R_2, mode=Mode.SUBTRACT)
    extrude_4 = extrude(amount=EXTRUDE_4_DEPTH)

    # 阵列(线性)1: Extrude 4 2 × 2
    with Locations(*[(i * PATTERN_LINEAR_1_PITCH, 0, j * PATTERN_LINEAR_1_PITCH_DIR2) for i in range(PATTERN_LINEAR_1_COUNT) for j in range(PATTERN_LINEAR_1_COUNT_DIR2) if (i, j) != (0, 0)]):
        add(extrude_4)


solid = part.part
